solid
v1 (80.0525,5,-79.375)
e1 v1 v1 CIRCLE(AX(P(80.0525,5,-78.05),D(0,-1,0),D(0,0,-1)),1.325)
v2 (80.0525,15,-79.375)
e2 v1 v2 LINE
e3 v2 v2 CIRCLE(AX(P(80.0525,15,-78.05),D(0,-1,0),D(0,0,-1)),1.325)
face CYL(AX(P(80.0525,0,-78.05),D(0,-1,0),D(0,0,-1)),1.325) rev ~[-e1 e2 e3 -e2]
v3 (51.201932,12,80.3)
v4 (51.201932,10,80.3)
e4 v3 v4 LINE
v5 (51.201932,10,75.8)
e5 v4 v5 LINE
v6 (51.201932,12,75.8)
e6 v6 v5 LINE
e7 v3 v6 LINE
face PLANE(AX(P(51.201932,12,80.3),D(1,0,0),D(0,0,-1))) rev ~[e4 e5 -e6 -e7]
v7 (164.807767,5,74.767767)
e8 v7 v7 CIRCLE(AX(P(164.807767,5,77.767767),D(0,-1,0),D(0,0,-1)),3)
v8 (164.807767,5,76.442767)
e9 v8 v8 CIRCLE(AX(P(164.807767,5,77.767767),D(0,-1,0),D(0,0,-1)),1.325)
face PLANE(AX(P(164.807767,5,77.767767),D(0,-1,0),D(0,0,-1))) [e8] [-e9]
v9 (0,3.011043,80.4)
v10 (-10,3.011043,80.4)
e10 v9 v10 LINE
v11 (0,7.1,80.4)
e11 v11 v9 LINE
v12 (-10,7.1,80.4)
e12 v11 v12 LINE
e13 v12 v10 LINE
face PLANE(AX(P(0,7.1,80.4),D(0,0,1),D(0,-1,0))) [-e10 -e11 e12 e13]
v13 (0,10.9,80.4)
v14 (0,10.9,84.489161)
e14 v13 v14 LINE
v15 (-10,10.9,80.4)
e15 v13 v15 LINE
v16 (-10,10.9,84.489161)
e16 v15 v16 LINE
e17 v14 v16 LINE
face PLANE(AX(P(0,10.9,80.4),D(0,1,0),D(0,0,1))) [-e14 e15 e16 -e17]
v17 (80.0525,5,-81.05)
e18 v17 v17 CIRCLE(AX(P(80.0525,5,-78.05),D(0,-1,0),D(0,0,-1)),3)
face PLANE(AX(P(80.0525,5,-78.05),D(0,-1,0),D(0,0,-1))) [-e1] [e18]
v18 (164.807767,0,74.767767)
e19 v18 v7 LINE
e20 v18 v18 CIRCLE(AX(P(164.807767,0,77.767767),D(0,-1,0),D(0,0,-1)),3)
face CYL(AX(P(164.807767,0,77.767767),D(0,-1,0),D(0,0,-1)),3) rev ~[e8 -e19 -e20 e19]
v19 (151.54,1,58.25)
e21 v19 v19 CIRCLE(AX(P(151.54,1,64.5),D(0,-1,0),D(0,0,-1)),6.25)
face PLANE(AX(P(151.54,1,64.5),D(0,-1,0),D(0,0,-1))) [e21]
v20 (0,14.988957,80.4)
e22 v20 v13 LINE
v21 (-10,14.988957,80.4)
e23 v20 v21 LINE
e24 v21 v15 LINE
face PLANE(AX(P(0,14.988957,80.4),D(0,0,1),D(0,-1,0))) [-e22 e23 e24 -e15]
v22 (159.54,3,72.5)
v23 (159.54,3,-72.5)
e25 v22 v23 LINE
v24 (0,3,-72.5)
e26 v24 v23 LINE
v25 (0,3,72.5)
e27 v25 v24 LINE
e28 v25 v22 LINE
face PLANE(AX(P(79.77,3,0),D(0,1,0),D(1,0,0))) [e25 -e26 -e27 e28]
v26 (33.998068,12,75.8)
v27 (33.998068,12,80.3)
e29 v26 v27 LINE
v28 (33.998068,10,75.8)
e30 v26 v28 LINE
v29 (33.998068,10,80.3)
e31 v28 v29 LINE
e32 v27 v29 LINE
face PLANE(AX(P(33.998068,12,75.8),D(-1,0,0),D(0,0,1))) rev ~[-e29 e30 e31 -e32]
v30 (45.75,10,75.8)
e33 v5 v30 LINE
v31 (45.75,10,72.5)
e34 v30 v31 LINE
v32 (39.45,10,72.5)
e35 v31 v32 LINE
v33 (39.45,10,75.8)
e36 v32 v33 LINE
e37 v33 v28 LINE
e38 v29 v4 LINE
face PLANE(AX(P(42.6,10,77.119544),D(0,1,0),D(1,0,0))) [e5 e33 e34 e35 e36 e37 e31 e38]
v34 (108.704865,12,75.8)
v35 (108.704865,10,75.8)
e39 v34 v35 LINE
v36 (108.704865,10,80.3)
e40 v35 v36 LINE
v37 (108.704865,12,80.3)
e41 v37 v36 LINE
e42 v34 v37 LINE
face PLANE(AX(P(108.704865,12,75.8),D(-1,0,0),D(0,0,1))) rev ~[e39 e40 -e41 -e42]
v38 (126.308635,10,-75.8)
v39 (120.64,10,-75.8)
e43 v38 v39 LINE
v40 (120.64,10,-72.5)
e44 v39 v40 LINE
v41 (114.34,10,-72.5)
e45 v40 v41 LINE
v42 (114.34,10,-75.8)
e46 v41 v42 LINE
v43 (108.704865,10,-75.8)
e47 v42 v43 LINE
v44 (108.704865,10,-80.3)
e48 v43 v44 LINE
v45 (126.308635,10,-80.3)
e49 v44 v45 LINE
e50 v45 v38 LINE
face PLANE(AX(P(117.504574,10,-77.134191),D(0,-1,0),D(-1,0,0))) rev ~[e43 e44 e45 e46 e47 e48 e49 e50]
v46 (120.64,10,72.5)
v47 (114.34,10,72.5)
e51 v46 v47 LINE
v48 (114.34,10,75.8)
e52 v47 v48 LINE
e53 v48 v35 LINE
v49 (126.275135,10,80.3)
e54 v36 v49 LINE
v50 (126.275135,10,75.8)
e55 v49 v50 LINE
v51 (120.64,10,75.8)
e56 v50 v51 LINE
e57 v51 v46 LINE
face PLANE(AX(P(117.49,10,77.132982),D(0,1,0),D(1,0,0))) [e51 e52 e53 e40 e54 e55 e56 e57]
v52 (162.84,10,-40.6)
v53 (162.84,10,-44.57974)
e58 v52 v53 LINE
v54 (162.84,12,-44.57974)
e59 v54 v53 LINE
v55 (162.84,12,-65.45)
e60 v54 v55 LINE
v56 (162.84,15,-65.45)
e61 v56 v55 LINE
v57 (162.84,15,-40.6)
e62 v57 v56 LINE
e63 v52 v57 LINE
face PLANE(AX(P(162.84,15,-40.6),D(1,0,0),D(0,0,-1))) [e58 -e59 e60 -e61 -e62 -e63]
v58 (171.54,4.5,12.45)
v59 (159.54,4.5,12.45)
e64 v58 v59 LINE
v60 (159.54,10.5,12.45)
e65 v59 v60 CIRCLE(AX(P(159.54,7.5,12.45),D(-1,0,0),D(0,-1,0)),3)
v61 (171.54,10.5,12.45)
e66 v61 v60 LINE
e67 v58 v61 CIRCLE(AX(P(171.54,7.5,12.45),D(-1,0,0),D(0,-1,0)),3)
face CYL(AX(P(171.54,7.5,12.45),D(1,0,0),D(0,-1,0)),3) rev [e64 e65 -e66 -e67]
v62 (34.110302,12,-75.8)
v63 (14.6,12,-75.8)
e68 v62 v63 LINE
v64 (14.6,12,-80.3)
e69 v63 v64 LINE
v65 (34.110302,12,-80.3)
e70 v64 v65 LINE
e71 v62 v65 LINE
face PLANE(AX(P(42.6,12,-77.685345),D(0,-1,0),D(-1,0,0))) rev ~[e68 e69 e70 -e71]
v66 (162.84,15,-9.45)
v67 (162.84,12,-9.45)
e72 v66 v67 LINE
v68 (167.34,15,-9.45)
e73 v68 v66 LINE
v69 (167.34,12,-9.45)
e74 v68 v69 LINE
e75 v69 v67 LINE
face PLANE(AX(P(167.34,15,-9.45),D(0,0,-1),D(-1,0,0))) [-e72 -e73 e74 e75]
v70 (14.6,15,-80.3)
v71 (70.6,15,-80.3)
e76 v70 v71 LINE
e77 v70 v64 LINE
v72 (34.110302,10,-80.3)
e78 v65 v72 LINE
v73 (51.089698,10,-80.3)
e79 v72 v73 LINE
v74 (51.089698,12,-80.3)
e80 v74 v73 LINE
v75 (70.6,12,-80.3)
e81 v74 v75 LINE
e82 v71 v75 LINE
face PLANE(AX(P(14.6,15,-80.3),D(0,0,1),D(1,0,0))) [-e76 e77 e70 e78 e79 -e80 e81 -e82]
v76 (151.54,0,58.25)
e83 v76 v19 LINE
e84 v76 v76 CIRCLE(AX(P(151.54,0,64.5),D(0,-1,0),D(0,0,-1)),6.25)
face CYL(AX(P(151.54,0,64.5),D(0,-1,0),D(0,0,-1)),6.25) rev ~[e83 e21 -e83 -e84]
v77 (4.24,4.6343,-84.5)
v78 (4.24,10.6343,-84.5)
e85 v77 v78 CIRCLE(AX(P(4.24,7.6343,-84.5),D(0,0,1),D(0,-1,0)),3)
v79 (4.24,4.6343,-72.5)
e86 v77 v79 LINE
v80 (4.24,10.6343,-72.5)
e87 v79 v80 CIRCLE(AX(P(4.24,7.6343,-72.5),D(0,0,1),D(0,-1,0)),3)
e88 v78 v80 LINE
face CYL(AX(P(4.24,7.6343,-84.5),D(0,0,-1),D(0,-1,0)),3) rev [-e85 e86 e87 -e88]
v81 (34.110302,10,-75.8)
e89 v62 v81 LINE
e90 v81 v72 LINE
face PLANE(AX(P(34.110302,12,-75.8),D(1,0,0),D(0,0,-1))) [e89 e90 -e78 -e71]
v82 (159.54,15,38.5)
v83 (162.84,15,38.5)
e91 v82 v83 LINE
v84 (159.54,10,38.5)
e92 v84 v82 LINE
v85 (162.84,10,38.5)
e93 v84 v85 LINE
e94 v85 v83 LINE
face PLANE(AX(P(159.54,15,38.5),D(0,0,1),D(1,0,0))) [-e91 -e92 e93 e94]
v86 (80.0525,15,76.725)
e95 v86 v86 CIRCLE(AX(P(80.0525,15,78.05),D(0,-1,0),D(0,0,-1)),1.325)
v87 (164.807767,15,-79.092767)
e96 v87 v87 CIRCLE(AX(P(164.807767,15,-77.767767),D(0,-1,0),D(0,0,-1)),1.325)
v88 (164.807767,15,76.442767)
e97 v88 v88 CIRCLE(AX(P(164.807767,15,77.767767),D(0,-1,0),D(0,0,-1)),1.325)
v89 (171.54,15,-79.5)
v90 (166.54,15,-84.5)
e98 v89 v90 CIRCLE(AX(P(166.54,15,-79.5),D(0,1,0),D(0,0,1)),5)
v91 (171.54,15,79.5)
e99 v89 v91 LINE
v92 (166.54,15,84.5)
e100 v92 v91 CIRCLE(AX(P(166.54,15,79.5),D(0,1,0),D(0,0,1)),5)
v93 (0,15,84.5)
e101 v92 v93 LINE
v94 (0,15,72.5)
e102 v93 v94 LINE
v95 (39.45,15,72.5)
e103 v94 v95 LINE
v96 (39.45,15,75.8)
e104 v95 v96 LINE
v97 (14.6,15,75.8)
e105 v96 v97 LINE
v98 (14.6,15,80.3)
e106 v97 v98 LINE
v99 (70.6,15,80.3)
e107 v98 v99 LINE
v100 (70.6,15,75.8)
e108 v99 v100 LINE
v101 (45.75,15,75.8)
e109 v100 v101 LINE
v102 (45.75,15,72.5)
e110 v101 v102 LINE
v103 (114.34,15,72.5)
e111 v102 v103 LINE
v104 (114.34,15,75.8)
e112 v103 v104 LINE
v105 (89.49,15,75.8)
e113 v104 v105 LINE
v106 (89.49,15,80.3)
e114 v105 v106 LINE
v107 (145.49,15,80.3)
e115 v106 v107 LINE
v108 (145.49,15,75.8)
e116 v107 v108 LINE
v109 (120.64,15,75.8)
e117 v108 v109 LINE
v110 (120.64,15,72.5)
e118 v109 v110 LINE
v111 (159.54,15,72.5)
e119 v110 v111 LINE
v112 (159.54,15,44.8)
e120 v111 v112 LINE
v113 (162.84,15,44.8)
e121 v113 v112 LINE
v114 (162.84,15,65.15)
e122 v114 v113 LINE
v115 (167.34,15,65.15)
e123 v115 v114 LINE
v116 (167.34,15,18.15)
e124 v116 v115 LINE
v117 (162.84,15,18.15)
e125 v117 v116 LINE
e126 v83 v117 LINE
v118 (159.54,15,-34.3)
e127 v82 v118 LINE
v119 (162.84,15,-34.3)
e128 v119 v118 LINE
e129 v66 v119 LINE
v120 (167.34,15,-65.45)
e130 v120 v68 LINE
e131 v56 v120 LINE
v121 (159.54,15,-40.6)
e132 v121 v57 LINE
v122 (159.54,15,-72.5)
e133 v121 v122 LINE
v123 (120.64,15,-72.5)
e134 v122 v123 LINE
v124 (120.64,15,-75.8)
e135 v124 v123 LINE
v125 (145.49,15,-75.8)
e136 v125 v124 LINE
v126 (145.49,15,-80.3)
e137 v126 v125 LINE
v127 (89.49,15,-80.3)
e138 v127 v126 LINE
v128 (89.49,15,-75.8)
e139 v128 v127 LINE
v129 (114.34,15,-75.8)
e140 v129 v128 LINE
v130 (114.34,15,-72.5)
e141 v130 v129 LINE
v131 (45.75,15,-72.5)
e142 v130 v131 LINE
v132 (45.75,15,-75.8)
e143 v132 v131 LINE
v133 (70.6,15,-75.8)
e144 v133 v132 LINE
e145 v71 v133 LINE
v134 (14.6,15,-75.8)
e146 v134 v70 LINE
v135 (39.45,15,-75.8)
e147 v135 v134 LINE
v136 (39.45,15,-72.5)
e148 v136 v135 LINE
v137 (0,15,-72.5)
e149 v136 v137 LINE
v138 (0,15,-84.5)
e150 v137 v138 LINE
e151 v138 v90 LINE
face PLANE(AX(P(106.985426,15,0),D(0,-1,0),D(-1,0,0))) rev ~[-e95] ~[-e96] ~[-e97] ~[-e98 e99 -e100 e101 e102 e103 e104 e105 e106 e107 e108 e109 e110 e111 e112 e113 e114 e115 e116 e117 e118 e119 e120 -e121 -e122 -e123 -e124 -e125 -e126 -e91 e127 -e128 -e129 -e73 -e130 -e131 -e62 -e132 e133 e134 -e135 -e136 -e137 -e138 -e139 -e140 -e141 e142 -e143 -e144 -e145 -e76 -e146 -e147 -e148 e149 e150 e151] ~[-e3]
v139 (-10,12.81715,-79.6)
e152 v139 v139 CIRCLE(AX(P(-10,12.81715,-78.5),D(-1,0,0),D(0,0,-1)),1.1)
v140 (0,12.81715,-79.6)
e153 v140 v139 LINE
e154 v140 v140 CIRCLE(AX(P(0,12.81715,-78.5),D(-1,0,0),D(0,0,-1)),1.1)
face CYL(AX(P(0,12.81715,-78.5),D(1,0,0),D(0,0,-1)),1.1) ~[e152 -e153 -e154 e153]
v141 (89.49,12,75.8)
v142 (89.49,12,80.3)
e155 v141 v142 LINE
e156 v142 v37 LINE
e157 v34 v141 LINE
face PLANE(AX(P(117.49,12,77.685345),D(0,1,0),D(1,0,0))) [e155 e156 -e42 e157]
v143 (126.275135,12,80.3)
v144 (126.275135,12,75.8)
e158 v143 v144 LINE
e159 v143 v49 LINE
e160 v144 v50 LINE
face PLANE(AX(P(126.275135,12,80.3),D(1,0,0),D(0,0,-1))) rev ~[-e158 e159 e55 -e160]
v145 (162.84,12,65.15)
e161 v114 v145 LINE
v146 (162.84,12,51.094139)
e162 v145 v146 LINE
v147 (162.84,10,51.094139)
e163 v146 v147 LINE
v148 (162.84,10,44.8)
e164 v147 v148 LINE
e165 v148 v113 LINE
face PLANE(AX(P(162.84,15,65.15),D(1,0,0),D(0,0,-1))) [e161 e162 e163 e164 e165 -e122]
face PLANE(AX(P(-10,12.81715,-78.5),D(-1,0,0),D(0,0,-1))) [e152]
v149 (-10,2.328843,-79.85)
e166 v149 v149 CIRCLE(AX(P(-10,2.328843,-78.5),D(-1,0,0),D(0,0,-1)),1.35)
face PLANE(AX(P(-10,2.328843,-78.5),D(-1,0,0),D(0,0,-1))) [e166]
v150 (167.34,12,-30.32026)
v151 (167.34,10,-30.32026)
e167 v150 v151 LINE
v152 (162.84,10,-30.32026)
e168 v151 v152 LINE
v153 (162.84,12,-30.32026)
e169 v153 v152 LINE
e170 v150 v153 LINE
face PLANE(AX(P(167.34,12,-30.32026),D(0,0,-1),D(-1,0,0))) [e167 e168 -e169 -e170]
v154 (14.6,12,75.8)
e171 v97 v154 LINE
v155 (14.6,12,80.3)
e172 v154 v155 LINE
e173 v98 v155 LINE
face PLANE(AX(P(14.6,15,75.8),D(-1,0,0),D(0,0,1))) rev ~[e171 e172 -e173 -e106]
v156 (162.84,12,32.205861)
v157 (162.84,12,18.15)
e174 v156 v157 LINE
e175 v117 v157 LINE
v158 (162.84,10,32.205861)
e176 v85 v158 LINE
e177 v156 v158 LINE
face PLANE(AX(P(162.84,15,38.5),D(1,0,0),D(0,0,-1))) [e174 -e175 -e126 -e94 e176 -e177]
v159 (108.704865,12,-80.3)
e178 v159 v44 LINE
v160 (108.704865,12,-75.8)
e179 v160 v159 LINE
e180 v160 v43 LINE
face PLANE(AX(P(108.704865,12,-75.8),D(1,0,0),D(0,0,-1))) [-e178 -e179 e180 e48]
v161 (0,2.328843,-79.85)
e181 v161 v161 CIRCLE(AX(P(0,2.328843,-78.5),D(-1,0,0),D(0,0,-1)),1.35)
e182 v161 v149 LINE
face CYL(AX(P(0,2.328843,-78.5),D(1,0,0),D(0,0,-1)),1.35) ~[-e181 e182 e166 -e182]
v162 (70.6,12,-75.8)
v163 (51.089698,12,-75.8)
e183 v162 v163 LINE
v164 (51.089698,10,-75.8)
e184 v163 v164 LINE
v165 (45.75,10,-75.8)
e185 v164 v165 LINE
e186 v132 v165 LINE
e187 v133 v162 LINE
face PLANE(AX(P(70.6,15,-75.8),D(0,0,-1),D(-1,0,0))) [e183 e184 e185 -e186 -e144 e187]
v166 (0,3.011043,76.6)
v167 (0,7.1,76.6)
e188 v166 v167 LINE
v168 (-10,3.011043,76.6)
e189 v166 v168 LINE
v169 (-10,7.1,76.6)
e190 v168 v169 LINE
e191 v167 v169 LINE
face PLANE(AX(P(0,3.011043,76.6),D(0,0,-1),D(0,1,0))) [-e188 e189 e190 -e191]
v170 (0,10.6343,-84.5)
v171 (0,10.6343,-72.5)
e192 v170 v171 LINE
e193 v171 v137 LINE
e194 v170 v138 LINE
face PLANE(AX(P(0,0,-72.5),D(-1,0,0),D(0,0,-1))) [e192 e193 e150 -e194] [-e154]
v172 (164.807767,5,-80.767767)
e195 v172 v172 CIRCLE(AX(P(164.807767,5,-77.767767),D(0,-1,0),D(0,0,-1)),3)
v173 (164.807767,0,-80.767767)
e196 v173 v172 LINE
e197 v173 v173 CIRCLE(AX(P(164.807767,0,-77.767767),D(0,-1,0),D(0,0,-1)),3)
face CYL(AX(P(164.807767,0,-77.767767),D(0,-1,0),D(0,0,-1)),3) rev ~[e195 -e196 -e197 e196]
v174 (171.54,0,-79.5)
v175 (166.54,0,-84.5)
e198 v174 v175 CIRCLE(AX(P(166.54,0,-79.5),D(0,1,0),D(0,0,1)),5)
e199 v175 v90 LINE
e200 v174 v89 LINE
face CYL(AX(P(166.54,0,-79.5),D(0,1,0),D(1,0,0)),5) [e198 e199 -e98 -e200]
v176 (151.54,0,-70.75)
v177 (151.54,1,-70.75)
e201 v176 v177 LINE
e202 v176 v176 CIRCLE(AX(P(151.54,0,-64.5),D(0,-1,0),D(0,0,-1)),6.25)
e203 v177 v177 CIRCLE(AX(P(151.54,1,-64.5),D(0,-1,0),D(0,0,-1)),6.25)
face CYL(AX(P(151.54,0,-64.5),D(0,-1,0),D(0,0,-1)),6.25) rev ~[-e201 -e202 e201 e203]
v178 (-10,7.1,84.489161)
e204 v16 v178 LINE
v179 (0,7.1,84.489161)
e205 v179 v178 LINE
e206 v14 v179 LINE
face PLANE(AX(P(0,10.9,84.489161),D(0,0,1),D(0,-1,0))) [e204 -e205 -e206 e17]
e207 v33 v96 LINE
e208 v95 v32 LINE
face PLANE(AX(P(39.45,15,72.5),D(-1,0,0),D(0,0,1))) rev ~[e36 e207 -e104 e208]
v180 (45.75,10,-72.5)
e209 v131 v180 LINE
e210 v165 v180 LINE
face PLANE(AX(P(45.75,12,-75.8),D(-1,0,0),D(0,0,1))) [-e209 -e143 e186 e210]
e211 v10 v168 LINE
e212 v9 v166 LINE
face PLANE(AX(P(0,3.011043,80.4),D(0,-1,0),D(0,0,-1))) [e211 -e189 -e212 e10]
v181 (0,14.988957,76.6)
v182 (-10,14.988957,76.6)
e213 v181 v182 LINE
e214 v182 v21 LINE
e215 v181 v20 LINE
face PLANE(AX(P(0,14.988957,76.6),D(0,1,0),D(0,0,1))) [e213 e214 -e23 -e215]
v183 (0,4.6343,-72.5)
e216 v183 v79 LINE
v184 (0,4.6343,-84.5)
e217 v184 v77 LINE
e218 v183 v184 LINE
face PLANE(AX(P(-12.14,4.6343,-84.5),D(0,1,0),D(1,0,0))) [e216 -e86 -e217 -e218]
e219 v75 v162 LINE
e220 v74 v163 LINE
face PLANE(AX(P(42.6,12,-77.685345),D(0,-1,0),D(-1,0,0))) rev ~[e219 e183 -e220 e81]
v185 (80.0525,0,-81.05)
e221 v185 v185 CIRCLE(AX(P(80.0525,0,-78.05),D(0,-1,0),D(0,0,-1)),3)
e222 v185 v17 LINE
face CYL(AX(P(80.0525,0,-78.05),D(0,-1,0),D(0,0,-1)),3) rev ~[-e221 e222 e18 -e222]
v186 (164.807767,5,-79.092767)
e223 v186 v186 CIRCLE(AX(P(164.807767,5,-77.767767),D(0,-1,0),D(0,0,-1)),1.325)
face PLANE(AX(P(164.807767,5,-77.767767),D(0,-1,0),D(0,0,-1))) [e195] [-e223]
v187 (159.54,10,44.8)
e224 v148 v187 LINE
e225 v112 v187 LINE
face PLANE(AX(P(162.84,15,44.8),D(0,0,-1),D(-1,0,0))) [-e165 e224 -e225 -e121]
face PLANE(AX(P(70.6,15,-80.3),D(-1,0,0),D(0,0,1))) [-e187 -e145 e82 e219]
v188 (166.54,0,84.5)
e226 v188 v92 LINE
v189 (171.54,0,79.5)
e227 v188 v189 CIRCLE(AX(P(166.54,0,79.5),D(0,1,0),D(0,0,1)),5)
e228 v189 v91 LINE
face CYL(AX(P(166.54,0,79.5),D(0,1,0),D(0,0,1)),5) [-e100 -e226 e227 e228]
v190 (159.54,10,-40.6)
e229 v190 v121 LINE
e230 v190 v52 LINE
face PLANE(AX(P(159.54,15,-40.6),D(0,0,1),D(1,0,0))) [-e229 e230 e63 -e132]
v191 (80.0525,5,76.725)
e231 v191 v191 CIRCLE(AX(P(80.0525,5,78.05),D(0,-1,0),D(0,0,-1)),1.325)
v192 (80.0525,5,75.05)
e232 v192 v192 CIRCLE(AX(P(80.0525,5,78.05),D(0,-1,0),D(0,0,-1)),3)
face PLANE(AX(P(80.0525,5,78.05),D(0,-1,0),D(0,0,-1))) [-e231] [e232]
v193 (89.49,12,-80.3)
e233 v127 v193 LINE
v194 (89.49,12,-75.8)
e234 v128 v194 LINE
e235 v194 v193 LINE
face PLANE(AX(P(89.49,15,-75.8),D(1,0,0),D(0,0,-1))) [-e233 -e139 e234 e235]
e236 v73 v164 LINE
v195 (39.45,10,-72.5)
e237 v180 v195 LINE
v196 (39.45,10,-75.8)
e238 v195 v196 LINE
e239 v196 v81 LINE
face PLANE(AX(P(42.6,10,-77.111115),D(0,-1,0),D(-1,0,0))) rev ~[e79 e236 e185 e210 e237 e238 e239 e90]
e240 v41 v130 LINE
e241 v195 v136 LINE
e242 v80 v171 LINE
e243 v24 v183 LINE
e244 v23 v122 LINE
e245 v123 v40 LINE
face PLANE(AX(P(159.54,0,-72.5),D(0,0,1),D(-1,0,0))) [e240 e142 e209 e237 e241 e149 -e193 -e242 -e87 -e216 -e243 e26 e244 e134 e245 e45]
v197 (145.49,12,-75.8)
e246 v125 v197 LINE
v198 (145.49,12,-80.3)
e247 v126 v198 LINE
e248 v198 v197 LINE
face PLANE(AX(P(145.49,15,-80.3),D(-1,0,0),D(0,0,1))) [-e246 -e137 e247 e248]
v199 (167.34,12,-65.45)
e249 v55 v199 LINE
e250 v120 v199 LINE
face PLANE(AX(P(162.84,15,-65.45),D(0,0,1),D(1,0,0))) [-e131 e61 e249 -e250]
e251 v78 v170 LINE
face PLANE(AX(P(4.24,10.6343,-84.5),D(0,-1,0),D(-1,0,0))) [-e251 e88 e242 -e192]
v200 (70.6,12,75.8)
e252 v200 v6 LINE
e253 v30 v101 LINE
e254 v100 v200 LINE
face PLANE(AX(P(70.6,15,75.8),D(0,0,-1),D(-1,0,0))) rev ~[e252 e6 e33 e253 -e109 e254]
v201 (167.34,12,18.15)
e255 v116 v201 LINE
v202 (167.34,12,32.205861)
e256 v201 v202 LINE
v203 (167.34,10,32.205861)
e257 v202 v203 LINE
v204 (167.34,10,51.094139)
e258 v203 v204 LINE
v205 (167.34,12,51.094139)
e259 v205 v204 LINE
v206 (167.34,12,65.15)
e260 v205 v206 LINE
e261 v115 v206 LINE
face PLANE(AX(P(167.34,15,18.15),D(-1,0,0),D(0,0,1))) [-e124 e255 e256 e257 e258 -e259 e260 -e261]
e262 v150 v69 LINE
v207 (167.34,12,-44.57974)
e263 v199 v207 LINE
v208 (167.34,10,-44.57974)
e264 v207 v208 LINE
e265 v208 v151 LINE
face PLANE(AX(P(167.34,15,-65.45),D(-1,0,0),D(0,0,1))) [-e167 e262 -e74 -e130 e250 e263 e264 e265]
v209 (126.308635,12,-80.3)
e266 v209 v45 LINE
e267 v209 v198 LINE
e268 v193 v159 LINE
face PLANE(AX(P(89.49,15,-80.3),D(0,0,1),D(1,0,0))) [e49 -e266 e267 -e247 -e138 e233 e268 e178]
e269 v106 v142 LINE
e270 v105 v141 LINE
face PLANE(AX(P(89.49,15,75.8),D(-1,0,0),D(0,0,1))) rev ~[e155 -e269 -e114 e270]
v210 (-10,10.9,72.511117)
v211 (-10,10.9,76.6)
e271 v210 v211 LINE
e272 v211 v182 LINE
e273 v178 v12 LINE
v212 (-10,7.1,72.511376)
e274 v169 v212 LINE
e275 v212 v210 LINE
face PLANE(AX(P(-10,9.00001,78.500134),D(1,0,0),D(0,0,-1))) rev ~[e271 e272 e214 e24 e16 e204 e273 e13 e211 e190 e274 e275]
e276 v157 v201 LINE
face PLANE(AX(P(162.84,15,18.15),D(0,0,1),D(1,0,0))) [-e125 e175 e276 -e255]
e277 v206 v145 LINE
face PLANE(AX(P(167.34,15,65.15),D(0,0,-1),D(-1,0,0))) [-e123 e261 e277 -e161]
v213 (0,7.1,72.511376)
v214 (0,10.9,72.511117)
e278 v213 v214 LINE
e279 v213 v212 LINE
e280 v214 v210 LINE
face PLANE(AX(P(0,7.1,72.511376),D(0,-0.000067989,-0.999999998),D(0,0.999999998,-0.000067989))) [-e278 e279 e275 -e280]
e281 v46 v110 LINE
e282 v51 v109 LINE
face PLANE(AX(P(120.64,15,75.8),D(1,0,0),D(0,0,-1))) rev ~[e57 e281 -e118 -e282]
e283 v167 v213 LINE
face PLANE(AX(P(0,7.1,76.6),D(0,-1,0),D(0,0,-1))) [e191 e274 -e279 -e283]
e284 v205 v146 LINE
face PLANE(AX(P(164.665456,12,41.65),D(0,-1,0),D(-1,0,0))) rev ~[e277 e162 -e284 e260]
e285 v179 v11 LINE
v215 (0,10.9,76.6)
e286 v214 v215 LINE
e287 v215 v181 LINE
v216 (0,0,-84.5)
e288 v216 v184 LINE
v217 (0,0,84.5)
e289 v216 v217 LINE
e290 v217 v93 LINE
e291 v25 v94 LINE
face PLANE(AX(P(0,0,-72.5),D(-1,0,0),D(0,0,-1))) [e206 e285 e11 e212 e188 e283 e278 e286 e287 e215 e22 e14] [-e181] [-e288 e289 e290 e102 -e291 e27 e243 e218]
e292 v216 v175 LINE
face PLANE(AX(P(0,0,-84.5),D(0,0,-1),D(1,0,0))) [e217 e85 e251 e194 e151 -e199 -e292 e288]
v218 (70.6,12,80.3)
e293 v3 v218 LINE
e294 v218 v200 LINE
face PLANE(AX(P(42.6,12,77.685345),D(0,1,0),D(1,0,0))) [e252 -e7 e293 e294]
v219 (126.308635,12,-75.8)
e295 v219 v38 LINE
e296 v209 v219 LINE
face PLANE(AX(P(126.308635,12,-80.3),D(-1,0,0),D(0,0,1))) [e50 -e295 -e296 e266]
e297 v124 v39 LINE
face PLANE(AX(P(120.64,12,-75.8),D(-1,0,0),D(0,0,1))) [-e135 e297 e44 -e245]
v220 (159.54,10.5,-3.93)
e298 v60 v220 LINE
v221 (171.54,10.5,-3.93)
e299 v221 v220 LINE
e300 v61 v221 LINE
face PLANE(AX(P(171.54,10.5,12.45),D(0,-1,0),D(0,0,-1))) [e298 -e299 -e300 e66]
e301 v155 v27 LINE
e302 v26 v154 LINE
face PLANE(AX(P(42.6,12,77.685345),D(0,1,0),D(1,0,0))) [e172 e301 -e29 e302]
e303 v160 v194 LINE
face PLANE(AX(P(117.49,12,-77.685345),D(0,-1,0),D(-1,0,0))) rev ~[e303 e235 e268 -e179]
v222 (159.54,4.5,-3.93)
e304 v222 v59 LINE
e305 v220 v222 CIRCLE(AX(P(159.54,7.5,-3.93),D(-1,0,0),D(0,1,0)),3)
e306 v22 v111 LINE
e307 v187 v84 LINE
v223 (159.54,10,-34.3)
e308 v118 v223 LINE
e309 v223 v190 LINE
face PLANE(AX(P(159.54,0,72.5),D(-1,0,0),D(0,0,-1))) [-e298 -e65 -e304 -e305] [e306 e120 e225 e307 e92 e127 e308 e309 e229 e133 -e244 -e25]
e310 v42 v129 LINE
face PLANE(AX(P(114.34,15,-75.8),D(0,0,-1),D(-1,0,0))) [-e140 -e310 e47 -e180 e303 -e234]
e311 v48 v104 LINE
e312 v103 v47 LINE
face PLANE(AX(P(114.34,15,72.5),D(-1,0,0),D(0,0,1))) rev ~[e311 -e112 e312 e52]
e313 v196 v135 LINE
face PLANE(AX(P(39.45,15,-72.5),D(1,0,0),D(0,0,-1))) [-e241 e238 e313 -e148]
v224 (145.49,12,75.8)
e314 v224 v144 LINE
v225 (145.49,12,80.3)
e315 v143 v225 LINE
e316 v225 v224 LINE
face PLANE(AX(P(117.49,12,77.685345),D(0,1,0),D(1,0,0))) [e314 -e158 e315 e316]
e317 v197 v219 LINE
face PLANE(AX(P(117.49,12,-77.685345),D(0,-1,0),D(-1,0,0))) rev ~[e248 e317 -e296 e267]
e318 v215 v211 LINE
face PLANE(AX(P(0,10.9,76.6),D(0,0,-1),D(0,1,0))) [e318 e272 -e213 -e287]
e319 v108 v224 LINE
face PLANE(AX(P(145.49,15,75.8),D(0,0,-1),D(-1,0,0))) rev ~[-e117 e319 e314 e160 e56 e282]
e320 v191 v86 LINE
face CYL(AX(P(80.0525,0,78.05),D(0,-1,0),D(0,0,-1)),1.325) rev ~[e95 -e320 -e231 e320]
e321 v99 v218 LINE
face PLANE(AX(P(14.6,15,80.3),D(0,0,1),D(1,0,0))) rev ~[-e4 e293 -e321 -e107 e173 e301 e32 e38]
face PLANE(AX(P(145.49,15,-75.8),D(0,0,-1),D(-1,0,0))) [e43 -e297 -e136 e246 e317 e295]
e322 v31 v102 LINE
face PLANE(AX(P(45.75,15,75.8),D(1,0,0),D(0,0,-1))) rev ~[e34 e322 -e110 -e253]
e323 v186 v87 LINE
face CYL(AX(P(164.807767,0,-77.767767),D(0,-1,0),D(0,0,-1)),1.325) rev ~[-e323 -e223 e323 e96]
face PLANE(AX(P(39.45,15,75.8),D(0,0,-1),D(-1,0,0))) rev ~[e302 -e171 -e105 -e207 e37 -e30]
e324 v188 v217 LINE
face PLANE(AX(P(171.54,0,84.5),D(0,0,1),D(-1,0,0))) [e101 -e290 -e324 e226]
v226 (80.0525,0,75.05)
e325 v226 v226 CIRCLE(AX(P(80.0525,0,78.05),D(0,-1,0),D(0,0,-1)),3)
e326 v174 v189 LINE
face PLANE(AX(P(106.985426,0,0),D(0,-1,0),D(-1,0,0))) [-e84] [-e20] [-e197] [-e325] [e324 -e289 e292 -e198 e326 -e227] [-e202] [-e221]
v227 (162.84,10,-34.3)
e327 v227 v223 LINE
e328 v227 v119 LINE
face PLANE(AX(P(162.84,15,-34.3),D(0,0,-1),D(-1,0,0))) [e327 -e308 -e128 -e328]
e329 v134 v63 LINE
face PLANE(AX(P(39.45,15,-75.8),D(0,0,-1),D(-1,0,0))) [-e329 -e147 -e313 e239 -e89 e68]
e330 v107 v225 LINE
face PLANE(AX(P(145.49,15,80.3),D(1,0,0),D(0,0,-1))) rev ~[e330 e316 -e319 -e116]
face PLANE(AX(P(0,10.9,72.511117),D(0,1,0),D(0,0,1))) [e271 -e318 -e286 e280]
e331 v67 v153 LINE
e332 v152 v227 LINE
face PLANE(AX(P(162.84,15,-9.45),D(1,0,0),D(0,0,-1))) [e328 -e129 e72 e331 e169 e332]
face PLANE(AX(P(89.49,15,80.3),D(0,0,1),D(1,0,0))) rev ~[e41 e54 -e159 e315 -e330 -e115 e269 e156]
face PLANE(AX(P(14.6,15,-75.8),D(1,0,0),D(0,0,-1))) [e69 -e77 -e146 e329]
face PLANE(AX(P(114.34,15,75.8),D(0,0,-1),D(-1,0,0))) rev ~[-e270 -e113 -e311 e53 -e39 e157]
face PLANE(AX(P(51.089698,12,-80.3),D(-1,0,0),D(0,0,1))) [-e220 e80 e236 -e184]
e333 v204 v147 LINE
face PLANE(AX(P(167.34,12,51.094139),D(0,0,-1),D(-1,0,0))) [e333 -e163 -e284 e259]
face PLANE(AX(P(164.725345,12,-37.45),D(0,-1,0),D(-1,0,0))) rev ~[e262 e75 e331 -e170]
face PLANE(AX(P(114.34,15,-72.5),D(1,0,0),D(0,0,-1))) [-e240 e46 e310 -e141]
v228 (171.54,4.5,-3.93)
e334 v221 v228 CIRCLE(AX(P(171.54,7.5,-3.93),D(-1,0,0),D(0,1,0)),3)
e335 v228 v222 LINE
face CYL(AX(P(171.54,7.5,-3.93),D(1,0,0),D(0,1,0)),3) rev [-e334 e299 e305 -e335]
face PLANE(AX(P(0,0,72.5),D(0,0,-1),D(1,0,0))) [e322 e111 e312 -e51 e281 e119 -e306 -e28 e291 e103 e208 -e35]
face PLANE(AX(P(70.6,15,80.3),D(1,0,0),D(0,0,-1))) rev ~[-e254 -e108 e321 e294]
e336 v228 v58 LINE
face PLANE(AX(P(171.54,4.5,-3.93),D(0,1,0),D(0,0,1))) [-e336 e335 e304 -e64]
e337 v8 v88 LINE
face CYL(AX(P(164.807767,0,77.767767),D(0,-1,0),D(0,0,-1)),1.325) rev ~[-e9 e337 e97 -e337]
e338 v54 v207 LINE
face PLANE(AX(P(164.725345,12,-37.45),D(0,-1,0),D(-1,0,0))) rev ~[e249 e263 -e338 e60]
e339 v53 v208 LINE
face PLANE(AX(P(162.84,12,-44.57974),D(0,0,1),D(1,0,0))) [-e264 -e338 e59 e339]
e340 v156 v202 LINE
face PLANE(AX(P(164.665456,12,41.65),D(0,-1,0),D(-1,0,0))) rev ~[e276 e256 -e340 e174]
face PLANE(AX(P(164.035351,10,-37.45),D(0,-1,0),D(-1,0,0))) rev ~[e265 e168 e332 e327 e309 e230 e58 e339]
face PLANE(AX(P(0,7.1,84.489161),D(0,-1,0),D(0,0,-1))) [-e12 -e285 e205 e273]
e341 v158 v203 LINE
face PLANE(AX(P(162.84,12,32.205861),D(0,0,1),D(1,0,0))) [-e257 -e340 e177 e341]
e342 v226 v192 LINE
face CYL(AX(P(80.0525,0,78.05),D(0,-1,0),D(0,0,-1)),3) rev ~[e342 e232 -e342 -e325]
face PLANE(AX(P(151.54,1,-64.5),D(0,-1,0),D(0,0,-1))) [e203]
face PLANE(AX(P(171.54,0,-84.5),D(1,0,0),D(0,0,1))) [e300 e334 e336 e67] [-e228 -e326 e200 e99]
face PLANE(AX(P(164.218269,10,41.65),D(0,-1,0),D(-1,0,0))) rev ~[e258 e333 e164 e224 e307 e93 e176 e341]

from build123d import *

# Parameters (mm, degrees)
SKETCH1_W           = 159.54
SKETCH1_H           = 145
BOSS_EXTRUDE1_DEPTH = 3
BOSS_EXTRUDE2_DEPTH = 15
CUT_EXTRUDE1_DEPTH  = 3
CUT_EXTRUDE2_DEPTH  = 2
CUT_EXTRUDE3_DEPTH  = 12
CUT_EXTRUDE4_DEPTH  = 12
SKETCH8_R           = 1.1
SKETCH8_R_2         = 1.35
BOSS_EXTRUDE3_DEPTH = 10
BOSS_EXTRUDE5_DEPTH = 10
FILLET3_R           = 5
FILLET4_R           = 5
SKETCH10_R          = 1.325
CUT_EXTRUDE5_DEPTH  = 17
SKETCH12_R          = 3
CUT_EXTRUDE6_DEPTH  = 5
SKETCH13_R          = 6.25
CUT_EXTRUDE7_DEPTH  = 1


with BuildPart() as part:
    # Sketch1 → Boss-Extrude1 (new body)
    with BuildSketch(Plane(origin=(0, 0, 0), x_dir=(1, 0, 0), z_dir=(0, 1, 0))):
        with Locations((79.77, 0)):
            Rectangle(SKETCH1_W, SKETCH1_H)
    extrude(amount=BOSS_EXTRUDE1_DEPTH)

    # Sketch3 → Boss-Extrude2 (add)
    with BuildSketch(Plane(origin=(0, 0, 0), x_dir=(1, 0, 0), z_dir=(0, 1, 0))):
        Polygon((0, 72.5), (0, 84.5), (171.54, 84.5), (171.54, -84.5), (0, -84.5), (0, -72.5), (159.54, -72.5), (159.54, 72.5), align=None)
    extrude(amount=BOSS_EXTRUDE2_DEPTH)

    # Sketch4 → Cut-Extrude1 (cut)
    with BuildSketch(Plane(origin=(0, 15, 0), x_dir=(1, 0, 0), z_dir=(0, 1, 0))):
        Polygon((45.75, 75.8), (45.75, 72.5), (39.45, 72.5), (39.45, 75.8), (14.6, 75.8), (14.6, 80.3), (70.6, 80.3), (70.6, 75.8), align=None)
        Polygon((120.64, 75.8), (120.64, 72.5), (114.34, 72.5), (114.34, 75.8), (89.49, 75.8), (89.49, 80.3), (145.49, 80.3), (145.49, 75.8), align=None)
        Polygon((145.49, -75.8), (120.64, -75.8), (120.64, -72.5), (114.34, -72.5), (114.34, -75.8), (89.49, -75.8), (89.49, -80.3), (145.49, -80.3), align=None)
        Polygon((70.6, -75.8), (45.75, -75.8), (45.75, -72.5), (39.45, -72.5), (39.45, -75.8), (14.6, -75.8), (14.6, -80.3), (70.6, -80.3), align=None)
        Polygon((159.54, -38.5), (162.84, -38.5), (162.84, -18.15), (167.34, -18.15), (167.34, -65.15), (162.84, -65.15), (162.84, -44.8), (159.54, -44.8), align=None)
        Polygon((159.54, 40.6), (162.84, 40.6), (162.84, 65.45), (167.34, 65.45), (167.34, 9.45), (162.84, 9.45), (162.84, 34.3), (159.54, 34.3), align=None)
    extrude(amount=-CUT_EXTRUDE1_DEPTH, mode=Mode.SUBTRACT)

    # Sketch5 → Cut-Extrude2 (cut)
    with BuildSketch(Plane(origin=(0, 12, 0), x_dir=(1, 0, 0), z_dir=(0, 1, 0))):
        Polygon((39.45, -72.5), (39.45, -75.8), (33.99806762, -75.8), (33.99806762, -80.3), (51.20193238, -80.3), (51.20193238, -75.8), (45.75, -75.8), (45.75, -72.5), align=None)
        Polygon((114.34, -75.8), (108.704865037, -75.8), (108.704865037, -80.3), (126.275134963, -80.3), (126.275134963, -75.8), (120.64, -75.8), (120.64, -72.5), (114.34, -72.5), align=None)
        Polygon((120.64, 72.5), (114.34, 72.5), (114.34, 75.8), (108.704865037, 75.8), (108.704865037, 80.3), (126.308635122, 80.3), (126.308635122, 75.8), (120.64, 75.8), align=None)
        Polygon((45.75, 72.5), (39.45, 72.5), (39.45, 75.8), (34.110302497, 75.8), (34.110302497, 80.3), (51.089697503, 80.3), (51.089697503, 75.8), (45.75, 75.8), align=None)
        Polygon((159.54, -44.8), (159.54, -38.5), (162.84, -38.5), (162.84, -32.205861204), (167.34, -32.205861204), (167.34, -51.094138796), (162.84, -51.094138796), (162.84, -44.8), align=None)
        Polygon((159.54, 40.6), (162.84, 40.6), (162.84, 44.579740263), (167.34, 44.579740263), (167.34, 30.320259737), (162.84, 30.320259737), (162.84, 34.3), (159.54, 34.3), align=None)
    extrude(amount=-CUT_EXTRUDE2_DEPTH, mode=Mode.SUBTRACT)

    # Sketch6 → Cut-Extrude3 (cut)
    with BuildSketch(Plane(origin=(171.54, 0, 0), x_dir=(0, 0, -1), z_dir=(1, 0, 0))):
        with BuildLine():
            Line((-12.45, 10.5), (3.93, 10.5))
            ThreePointArc((3.93, 10.5), (6.93, 7.5), (3.93, 4.5))
            Line((3.93, 4.5), (-12.45, 4.5))
            ThreePointArc((-12.45, 4.5), (-15.45, 7.5), (-12.45, 10.5))
        make_face()
    extrude(amount=-CUT_EXTRUDE3_DEPTH, mode=Mode.SUBTRACT)

    # Sketch7 → Cut-Extrude4 (cut)
    with BuildSketch(Plane(origin=(0, 0, -84.5), x_dir=(-1, 0, 0), z_dir=(0, 0, -1))):
        with BuildLine():
            Line((-4.24, 10.6343), (12.14, 10.6343))
            ThreePointArc((12.14, 10.6343), (15.14, 7.6343), (12.14, 4.6343))
            Line((12.14, 4.6343), (-4.24, 4.6343))
            ThreePointArc((-4.24, 4.6343), (-7.24, 7.6343), (-4.24, 10.6343))
        make_face()
    extrude(amount=-CUT_EXTRUDE4_DEPTH, mode=Mode.SUBTRACT)

    # Sketch8 → Boss-Extrude3 (add)
    with BuildSketch(Plane.ZY):
        with Locations(Location((-78.5, 12.81715, 0), (0, 0, 180))):
            Circle(SKETCH8_R)
        with Locations(Location((-78.5, 2.328843142, 0), (0, 0, 180))):
            Circle(SKETCH8_R_2)
    extrude(amount=BOSS_EXTRUDE3_DEPTH)

    # Sketch9 → Boss-Extrude5 (add)
    with BuildSketch(Plane.ZY):
        Polygon((76.6, 14.98895691), (80.4, 14.98895691), (80.4, 10.9), (84.489160504, 10.9), (84.489160504, 7.1), (80.4, 7.1), (80.4, 3.01104309), (76.6, 3.01104309), (76.6, 7.100000004), (72.511375857, 7.100000004), (72.511117499, 10.899999996), (76.6, 10.899999996), align=None)
    extrude(amount=BOSS_EXTRUDE5_DEPTH)

    # Fillet3
    fillet3_edges = [part.edges().sort_by_distance(p)[0] for p in [
        (171.54, 7.5, 84.5),
    ]]
    fillet(fillet3_edges, radius=FILLET3_R)

    # Fillet4
    fillet4_edges = [part.edges().sort_by_distance(p)[0] for p in [
        (171.54, 7.5, -84.5),
    ]]
    fillet(fillet4_edges, radius=FILLET4_R)

    # Sketch10 → Cut-Extrude5 (cut)
    with BuildSketch(Plane.XZ):
        with Locations(Location((80.0525, 78.05, 0), (0, 0, 270))):
            Circle(SKETCH10_R)
        with Locations(Location((164.807766953, 77.767766953, 0), (0, 0, 270))):
            Circle(SKETCH10_R)
        with Locations(Location((164.807766953, -77.767766953, 0), (0, 0, 270))):
            Circle(SKETCH10_R)
        with Locations(Location((80.0525, -78.05, 0), (0, 0, 270))):
            Circle(SKETCH10_R)
    extrude(amount=-CUT_EXTRUDE5_DEPTH, mode=Mode.SUBTRACT)

    # Sketch12 → Cut-Extrude6 (cut)
    with BuildSketch(Plane(origin=(0, 0, 0), x_dir=(-1, 0, 0), z_dir=(0, -1, 0))):
        with Locations(Location((-80.0525, -78.05, 0), (0, 0, 90))):
            Circle(SKETCH12_R)
        with Locations(Location((-164.807766953, -77.767766953, 0), (0, 0, 90))):
            Circle(SKETCH12_R)
        with Locations(Location((-164.807766953, 77.767766953, 0), (0, 0, 90))):
            Circle(SKETCH12_R)
        with Locations(Location((-80.0525, 78.05, 0), (0, 0, 90))):
            Circle(SKETCH12_R)
    extrude(amount=-CUT_EXTRUDE6_DEPTH, mode=Mode.SUBTRACT)

    # Sketch13 → Cut-Extrude7 (cut)
    with BuildSketch(Plane.XZ):
        with Locations(Location((151.54, 64.5, 0), (0, 0, 270))):
            Circle(SKETCH13_R)
        with Locations(Location((151.54, -64.5, 0), (0, 0, 270))):
            Circle(SKETCH13_R)
    extrude(amount=-CUT_EXTRUDE7_DEPTH, mode=Mode.SUBTRACT)


solid = part.part
